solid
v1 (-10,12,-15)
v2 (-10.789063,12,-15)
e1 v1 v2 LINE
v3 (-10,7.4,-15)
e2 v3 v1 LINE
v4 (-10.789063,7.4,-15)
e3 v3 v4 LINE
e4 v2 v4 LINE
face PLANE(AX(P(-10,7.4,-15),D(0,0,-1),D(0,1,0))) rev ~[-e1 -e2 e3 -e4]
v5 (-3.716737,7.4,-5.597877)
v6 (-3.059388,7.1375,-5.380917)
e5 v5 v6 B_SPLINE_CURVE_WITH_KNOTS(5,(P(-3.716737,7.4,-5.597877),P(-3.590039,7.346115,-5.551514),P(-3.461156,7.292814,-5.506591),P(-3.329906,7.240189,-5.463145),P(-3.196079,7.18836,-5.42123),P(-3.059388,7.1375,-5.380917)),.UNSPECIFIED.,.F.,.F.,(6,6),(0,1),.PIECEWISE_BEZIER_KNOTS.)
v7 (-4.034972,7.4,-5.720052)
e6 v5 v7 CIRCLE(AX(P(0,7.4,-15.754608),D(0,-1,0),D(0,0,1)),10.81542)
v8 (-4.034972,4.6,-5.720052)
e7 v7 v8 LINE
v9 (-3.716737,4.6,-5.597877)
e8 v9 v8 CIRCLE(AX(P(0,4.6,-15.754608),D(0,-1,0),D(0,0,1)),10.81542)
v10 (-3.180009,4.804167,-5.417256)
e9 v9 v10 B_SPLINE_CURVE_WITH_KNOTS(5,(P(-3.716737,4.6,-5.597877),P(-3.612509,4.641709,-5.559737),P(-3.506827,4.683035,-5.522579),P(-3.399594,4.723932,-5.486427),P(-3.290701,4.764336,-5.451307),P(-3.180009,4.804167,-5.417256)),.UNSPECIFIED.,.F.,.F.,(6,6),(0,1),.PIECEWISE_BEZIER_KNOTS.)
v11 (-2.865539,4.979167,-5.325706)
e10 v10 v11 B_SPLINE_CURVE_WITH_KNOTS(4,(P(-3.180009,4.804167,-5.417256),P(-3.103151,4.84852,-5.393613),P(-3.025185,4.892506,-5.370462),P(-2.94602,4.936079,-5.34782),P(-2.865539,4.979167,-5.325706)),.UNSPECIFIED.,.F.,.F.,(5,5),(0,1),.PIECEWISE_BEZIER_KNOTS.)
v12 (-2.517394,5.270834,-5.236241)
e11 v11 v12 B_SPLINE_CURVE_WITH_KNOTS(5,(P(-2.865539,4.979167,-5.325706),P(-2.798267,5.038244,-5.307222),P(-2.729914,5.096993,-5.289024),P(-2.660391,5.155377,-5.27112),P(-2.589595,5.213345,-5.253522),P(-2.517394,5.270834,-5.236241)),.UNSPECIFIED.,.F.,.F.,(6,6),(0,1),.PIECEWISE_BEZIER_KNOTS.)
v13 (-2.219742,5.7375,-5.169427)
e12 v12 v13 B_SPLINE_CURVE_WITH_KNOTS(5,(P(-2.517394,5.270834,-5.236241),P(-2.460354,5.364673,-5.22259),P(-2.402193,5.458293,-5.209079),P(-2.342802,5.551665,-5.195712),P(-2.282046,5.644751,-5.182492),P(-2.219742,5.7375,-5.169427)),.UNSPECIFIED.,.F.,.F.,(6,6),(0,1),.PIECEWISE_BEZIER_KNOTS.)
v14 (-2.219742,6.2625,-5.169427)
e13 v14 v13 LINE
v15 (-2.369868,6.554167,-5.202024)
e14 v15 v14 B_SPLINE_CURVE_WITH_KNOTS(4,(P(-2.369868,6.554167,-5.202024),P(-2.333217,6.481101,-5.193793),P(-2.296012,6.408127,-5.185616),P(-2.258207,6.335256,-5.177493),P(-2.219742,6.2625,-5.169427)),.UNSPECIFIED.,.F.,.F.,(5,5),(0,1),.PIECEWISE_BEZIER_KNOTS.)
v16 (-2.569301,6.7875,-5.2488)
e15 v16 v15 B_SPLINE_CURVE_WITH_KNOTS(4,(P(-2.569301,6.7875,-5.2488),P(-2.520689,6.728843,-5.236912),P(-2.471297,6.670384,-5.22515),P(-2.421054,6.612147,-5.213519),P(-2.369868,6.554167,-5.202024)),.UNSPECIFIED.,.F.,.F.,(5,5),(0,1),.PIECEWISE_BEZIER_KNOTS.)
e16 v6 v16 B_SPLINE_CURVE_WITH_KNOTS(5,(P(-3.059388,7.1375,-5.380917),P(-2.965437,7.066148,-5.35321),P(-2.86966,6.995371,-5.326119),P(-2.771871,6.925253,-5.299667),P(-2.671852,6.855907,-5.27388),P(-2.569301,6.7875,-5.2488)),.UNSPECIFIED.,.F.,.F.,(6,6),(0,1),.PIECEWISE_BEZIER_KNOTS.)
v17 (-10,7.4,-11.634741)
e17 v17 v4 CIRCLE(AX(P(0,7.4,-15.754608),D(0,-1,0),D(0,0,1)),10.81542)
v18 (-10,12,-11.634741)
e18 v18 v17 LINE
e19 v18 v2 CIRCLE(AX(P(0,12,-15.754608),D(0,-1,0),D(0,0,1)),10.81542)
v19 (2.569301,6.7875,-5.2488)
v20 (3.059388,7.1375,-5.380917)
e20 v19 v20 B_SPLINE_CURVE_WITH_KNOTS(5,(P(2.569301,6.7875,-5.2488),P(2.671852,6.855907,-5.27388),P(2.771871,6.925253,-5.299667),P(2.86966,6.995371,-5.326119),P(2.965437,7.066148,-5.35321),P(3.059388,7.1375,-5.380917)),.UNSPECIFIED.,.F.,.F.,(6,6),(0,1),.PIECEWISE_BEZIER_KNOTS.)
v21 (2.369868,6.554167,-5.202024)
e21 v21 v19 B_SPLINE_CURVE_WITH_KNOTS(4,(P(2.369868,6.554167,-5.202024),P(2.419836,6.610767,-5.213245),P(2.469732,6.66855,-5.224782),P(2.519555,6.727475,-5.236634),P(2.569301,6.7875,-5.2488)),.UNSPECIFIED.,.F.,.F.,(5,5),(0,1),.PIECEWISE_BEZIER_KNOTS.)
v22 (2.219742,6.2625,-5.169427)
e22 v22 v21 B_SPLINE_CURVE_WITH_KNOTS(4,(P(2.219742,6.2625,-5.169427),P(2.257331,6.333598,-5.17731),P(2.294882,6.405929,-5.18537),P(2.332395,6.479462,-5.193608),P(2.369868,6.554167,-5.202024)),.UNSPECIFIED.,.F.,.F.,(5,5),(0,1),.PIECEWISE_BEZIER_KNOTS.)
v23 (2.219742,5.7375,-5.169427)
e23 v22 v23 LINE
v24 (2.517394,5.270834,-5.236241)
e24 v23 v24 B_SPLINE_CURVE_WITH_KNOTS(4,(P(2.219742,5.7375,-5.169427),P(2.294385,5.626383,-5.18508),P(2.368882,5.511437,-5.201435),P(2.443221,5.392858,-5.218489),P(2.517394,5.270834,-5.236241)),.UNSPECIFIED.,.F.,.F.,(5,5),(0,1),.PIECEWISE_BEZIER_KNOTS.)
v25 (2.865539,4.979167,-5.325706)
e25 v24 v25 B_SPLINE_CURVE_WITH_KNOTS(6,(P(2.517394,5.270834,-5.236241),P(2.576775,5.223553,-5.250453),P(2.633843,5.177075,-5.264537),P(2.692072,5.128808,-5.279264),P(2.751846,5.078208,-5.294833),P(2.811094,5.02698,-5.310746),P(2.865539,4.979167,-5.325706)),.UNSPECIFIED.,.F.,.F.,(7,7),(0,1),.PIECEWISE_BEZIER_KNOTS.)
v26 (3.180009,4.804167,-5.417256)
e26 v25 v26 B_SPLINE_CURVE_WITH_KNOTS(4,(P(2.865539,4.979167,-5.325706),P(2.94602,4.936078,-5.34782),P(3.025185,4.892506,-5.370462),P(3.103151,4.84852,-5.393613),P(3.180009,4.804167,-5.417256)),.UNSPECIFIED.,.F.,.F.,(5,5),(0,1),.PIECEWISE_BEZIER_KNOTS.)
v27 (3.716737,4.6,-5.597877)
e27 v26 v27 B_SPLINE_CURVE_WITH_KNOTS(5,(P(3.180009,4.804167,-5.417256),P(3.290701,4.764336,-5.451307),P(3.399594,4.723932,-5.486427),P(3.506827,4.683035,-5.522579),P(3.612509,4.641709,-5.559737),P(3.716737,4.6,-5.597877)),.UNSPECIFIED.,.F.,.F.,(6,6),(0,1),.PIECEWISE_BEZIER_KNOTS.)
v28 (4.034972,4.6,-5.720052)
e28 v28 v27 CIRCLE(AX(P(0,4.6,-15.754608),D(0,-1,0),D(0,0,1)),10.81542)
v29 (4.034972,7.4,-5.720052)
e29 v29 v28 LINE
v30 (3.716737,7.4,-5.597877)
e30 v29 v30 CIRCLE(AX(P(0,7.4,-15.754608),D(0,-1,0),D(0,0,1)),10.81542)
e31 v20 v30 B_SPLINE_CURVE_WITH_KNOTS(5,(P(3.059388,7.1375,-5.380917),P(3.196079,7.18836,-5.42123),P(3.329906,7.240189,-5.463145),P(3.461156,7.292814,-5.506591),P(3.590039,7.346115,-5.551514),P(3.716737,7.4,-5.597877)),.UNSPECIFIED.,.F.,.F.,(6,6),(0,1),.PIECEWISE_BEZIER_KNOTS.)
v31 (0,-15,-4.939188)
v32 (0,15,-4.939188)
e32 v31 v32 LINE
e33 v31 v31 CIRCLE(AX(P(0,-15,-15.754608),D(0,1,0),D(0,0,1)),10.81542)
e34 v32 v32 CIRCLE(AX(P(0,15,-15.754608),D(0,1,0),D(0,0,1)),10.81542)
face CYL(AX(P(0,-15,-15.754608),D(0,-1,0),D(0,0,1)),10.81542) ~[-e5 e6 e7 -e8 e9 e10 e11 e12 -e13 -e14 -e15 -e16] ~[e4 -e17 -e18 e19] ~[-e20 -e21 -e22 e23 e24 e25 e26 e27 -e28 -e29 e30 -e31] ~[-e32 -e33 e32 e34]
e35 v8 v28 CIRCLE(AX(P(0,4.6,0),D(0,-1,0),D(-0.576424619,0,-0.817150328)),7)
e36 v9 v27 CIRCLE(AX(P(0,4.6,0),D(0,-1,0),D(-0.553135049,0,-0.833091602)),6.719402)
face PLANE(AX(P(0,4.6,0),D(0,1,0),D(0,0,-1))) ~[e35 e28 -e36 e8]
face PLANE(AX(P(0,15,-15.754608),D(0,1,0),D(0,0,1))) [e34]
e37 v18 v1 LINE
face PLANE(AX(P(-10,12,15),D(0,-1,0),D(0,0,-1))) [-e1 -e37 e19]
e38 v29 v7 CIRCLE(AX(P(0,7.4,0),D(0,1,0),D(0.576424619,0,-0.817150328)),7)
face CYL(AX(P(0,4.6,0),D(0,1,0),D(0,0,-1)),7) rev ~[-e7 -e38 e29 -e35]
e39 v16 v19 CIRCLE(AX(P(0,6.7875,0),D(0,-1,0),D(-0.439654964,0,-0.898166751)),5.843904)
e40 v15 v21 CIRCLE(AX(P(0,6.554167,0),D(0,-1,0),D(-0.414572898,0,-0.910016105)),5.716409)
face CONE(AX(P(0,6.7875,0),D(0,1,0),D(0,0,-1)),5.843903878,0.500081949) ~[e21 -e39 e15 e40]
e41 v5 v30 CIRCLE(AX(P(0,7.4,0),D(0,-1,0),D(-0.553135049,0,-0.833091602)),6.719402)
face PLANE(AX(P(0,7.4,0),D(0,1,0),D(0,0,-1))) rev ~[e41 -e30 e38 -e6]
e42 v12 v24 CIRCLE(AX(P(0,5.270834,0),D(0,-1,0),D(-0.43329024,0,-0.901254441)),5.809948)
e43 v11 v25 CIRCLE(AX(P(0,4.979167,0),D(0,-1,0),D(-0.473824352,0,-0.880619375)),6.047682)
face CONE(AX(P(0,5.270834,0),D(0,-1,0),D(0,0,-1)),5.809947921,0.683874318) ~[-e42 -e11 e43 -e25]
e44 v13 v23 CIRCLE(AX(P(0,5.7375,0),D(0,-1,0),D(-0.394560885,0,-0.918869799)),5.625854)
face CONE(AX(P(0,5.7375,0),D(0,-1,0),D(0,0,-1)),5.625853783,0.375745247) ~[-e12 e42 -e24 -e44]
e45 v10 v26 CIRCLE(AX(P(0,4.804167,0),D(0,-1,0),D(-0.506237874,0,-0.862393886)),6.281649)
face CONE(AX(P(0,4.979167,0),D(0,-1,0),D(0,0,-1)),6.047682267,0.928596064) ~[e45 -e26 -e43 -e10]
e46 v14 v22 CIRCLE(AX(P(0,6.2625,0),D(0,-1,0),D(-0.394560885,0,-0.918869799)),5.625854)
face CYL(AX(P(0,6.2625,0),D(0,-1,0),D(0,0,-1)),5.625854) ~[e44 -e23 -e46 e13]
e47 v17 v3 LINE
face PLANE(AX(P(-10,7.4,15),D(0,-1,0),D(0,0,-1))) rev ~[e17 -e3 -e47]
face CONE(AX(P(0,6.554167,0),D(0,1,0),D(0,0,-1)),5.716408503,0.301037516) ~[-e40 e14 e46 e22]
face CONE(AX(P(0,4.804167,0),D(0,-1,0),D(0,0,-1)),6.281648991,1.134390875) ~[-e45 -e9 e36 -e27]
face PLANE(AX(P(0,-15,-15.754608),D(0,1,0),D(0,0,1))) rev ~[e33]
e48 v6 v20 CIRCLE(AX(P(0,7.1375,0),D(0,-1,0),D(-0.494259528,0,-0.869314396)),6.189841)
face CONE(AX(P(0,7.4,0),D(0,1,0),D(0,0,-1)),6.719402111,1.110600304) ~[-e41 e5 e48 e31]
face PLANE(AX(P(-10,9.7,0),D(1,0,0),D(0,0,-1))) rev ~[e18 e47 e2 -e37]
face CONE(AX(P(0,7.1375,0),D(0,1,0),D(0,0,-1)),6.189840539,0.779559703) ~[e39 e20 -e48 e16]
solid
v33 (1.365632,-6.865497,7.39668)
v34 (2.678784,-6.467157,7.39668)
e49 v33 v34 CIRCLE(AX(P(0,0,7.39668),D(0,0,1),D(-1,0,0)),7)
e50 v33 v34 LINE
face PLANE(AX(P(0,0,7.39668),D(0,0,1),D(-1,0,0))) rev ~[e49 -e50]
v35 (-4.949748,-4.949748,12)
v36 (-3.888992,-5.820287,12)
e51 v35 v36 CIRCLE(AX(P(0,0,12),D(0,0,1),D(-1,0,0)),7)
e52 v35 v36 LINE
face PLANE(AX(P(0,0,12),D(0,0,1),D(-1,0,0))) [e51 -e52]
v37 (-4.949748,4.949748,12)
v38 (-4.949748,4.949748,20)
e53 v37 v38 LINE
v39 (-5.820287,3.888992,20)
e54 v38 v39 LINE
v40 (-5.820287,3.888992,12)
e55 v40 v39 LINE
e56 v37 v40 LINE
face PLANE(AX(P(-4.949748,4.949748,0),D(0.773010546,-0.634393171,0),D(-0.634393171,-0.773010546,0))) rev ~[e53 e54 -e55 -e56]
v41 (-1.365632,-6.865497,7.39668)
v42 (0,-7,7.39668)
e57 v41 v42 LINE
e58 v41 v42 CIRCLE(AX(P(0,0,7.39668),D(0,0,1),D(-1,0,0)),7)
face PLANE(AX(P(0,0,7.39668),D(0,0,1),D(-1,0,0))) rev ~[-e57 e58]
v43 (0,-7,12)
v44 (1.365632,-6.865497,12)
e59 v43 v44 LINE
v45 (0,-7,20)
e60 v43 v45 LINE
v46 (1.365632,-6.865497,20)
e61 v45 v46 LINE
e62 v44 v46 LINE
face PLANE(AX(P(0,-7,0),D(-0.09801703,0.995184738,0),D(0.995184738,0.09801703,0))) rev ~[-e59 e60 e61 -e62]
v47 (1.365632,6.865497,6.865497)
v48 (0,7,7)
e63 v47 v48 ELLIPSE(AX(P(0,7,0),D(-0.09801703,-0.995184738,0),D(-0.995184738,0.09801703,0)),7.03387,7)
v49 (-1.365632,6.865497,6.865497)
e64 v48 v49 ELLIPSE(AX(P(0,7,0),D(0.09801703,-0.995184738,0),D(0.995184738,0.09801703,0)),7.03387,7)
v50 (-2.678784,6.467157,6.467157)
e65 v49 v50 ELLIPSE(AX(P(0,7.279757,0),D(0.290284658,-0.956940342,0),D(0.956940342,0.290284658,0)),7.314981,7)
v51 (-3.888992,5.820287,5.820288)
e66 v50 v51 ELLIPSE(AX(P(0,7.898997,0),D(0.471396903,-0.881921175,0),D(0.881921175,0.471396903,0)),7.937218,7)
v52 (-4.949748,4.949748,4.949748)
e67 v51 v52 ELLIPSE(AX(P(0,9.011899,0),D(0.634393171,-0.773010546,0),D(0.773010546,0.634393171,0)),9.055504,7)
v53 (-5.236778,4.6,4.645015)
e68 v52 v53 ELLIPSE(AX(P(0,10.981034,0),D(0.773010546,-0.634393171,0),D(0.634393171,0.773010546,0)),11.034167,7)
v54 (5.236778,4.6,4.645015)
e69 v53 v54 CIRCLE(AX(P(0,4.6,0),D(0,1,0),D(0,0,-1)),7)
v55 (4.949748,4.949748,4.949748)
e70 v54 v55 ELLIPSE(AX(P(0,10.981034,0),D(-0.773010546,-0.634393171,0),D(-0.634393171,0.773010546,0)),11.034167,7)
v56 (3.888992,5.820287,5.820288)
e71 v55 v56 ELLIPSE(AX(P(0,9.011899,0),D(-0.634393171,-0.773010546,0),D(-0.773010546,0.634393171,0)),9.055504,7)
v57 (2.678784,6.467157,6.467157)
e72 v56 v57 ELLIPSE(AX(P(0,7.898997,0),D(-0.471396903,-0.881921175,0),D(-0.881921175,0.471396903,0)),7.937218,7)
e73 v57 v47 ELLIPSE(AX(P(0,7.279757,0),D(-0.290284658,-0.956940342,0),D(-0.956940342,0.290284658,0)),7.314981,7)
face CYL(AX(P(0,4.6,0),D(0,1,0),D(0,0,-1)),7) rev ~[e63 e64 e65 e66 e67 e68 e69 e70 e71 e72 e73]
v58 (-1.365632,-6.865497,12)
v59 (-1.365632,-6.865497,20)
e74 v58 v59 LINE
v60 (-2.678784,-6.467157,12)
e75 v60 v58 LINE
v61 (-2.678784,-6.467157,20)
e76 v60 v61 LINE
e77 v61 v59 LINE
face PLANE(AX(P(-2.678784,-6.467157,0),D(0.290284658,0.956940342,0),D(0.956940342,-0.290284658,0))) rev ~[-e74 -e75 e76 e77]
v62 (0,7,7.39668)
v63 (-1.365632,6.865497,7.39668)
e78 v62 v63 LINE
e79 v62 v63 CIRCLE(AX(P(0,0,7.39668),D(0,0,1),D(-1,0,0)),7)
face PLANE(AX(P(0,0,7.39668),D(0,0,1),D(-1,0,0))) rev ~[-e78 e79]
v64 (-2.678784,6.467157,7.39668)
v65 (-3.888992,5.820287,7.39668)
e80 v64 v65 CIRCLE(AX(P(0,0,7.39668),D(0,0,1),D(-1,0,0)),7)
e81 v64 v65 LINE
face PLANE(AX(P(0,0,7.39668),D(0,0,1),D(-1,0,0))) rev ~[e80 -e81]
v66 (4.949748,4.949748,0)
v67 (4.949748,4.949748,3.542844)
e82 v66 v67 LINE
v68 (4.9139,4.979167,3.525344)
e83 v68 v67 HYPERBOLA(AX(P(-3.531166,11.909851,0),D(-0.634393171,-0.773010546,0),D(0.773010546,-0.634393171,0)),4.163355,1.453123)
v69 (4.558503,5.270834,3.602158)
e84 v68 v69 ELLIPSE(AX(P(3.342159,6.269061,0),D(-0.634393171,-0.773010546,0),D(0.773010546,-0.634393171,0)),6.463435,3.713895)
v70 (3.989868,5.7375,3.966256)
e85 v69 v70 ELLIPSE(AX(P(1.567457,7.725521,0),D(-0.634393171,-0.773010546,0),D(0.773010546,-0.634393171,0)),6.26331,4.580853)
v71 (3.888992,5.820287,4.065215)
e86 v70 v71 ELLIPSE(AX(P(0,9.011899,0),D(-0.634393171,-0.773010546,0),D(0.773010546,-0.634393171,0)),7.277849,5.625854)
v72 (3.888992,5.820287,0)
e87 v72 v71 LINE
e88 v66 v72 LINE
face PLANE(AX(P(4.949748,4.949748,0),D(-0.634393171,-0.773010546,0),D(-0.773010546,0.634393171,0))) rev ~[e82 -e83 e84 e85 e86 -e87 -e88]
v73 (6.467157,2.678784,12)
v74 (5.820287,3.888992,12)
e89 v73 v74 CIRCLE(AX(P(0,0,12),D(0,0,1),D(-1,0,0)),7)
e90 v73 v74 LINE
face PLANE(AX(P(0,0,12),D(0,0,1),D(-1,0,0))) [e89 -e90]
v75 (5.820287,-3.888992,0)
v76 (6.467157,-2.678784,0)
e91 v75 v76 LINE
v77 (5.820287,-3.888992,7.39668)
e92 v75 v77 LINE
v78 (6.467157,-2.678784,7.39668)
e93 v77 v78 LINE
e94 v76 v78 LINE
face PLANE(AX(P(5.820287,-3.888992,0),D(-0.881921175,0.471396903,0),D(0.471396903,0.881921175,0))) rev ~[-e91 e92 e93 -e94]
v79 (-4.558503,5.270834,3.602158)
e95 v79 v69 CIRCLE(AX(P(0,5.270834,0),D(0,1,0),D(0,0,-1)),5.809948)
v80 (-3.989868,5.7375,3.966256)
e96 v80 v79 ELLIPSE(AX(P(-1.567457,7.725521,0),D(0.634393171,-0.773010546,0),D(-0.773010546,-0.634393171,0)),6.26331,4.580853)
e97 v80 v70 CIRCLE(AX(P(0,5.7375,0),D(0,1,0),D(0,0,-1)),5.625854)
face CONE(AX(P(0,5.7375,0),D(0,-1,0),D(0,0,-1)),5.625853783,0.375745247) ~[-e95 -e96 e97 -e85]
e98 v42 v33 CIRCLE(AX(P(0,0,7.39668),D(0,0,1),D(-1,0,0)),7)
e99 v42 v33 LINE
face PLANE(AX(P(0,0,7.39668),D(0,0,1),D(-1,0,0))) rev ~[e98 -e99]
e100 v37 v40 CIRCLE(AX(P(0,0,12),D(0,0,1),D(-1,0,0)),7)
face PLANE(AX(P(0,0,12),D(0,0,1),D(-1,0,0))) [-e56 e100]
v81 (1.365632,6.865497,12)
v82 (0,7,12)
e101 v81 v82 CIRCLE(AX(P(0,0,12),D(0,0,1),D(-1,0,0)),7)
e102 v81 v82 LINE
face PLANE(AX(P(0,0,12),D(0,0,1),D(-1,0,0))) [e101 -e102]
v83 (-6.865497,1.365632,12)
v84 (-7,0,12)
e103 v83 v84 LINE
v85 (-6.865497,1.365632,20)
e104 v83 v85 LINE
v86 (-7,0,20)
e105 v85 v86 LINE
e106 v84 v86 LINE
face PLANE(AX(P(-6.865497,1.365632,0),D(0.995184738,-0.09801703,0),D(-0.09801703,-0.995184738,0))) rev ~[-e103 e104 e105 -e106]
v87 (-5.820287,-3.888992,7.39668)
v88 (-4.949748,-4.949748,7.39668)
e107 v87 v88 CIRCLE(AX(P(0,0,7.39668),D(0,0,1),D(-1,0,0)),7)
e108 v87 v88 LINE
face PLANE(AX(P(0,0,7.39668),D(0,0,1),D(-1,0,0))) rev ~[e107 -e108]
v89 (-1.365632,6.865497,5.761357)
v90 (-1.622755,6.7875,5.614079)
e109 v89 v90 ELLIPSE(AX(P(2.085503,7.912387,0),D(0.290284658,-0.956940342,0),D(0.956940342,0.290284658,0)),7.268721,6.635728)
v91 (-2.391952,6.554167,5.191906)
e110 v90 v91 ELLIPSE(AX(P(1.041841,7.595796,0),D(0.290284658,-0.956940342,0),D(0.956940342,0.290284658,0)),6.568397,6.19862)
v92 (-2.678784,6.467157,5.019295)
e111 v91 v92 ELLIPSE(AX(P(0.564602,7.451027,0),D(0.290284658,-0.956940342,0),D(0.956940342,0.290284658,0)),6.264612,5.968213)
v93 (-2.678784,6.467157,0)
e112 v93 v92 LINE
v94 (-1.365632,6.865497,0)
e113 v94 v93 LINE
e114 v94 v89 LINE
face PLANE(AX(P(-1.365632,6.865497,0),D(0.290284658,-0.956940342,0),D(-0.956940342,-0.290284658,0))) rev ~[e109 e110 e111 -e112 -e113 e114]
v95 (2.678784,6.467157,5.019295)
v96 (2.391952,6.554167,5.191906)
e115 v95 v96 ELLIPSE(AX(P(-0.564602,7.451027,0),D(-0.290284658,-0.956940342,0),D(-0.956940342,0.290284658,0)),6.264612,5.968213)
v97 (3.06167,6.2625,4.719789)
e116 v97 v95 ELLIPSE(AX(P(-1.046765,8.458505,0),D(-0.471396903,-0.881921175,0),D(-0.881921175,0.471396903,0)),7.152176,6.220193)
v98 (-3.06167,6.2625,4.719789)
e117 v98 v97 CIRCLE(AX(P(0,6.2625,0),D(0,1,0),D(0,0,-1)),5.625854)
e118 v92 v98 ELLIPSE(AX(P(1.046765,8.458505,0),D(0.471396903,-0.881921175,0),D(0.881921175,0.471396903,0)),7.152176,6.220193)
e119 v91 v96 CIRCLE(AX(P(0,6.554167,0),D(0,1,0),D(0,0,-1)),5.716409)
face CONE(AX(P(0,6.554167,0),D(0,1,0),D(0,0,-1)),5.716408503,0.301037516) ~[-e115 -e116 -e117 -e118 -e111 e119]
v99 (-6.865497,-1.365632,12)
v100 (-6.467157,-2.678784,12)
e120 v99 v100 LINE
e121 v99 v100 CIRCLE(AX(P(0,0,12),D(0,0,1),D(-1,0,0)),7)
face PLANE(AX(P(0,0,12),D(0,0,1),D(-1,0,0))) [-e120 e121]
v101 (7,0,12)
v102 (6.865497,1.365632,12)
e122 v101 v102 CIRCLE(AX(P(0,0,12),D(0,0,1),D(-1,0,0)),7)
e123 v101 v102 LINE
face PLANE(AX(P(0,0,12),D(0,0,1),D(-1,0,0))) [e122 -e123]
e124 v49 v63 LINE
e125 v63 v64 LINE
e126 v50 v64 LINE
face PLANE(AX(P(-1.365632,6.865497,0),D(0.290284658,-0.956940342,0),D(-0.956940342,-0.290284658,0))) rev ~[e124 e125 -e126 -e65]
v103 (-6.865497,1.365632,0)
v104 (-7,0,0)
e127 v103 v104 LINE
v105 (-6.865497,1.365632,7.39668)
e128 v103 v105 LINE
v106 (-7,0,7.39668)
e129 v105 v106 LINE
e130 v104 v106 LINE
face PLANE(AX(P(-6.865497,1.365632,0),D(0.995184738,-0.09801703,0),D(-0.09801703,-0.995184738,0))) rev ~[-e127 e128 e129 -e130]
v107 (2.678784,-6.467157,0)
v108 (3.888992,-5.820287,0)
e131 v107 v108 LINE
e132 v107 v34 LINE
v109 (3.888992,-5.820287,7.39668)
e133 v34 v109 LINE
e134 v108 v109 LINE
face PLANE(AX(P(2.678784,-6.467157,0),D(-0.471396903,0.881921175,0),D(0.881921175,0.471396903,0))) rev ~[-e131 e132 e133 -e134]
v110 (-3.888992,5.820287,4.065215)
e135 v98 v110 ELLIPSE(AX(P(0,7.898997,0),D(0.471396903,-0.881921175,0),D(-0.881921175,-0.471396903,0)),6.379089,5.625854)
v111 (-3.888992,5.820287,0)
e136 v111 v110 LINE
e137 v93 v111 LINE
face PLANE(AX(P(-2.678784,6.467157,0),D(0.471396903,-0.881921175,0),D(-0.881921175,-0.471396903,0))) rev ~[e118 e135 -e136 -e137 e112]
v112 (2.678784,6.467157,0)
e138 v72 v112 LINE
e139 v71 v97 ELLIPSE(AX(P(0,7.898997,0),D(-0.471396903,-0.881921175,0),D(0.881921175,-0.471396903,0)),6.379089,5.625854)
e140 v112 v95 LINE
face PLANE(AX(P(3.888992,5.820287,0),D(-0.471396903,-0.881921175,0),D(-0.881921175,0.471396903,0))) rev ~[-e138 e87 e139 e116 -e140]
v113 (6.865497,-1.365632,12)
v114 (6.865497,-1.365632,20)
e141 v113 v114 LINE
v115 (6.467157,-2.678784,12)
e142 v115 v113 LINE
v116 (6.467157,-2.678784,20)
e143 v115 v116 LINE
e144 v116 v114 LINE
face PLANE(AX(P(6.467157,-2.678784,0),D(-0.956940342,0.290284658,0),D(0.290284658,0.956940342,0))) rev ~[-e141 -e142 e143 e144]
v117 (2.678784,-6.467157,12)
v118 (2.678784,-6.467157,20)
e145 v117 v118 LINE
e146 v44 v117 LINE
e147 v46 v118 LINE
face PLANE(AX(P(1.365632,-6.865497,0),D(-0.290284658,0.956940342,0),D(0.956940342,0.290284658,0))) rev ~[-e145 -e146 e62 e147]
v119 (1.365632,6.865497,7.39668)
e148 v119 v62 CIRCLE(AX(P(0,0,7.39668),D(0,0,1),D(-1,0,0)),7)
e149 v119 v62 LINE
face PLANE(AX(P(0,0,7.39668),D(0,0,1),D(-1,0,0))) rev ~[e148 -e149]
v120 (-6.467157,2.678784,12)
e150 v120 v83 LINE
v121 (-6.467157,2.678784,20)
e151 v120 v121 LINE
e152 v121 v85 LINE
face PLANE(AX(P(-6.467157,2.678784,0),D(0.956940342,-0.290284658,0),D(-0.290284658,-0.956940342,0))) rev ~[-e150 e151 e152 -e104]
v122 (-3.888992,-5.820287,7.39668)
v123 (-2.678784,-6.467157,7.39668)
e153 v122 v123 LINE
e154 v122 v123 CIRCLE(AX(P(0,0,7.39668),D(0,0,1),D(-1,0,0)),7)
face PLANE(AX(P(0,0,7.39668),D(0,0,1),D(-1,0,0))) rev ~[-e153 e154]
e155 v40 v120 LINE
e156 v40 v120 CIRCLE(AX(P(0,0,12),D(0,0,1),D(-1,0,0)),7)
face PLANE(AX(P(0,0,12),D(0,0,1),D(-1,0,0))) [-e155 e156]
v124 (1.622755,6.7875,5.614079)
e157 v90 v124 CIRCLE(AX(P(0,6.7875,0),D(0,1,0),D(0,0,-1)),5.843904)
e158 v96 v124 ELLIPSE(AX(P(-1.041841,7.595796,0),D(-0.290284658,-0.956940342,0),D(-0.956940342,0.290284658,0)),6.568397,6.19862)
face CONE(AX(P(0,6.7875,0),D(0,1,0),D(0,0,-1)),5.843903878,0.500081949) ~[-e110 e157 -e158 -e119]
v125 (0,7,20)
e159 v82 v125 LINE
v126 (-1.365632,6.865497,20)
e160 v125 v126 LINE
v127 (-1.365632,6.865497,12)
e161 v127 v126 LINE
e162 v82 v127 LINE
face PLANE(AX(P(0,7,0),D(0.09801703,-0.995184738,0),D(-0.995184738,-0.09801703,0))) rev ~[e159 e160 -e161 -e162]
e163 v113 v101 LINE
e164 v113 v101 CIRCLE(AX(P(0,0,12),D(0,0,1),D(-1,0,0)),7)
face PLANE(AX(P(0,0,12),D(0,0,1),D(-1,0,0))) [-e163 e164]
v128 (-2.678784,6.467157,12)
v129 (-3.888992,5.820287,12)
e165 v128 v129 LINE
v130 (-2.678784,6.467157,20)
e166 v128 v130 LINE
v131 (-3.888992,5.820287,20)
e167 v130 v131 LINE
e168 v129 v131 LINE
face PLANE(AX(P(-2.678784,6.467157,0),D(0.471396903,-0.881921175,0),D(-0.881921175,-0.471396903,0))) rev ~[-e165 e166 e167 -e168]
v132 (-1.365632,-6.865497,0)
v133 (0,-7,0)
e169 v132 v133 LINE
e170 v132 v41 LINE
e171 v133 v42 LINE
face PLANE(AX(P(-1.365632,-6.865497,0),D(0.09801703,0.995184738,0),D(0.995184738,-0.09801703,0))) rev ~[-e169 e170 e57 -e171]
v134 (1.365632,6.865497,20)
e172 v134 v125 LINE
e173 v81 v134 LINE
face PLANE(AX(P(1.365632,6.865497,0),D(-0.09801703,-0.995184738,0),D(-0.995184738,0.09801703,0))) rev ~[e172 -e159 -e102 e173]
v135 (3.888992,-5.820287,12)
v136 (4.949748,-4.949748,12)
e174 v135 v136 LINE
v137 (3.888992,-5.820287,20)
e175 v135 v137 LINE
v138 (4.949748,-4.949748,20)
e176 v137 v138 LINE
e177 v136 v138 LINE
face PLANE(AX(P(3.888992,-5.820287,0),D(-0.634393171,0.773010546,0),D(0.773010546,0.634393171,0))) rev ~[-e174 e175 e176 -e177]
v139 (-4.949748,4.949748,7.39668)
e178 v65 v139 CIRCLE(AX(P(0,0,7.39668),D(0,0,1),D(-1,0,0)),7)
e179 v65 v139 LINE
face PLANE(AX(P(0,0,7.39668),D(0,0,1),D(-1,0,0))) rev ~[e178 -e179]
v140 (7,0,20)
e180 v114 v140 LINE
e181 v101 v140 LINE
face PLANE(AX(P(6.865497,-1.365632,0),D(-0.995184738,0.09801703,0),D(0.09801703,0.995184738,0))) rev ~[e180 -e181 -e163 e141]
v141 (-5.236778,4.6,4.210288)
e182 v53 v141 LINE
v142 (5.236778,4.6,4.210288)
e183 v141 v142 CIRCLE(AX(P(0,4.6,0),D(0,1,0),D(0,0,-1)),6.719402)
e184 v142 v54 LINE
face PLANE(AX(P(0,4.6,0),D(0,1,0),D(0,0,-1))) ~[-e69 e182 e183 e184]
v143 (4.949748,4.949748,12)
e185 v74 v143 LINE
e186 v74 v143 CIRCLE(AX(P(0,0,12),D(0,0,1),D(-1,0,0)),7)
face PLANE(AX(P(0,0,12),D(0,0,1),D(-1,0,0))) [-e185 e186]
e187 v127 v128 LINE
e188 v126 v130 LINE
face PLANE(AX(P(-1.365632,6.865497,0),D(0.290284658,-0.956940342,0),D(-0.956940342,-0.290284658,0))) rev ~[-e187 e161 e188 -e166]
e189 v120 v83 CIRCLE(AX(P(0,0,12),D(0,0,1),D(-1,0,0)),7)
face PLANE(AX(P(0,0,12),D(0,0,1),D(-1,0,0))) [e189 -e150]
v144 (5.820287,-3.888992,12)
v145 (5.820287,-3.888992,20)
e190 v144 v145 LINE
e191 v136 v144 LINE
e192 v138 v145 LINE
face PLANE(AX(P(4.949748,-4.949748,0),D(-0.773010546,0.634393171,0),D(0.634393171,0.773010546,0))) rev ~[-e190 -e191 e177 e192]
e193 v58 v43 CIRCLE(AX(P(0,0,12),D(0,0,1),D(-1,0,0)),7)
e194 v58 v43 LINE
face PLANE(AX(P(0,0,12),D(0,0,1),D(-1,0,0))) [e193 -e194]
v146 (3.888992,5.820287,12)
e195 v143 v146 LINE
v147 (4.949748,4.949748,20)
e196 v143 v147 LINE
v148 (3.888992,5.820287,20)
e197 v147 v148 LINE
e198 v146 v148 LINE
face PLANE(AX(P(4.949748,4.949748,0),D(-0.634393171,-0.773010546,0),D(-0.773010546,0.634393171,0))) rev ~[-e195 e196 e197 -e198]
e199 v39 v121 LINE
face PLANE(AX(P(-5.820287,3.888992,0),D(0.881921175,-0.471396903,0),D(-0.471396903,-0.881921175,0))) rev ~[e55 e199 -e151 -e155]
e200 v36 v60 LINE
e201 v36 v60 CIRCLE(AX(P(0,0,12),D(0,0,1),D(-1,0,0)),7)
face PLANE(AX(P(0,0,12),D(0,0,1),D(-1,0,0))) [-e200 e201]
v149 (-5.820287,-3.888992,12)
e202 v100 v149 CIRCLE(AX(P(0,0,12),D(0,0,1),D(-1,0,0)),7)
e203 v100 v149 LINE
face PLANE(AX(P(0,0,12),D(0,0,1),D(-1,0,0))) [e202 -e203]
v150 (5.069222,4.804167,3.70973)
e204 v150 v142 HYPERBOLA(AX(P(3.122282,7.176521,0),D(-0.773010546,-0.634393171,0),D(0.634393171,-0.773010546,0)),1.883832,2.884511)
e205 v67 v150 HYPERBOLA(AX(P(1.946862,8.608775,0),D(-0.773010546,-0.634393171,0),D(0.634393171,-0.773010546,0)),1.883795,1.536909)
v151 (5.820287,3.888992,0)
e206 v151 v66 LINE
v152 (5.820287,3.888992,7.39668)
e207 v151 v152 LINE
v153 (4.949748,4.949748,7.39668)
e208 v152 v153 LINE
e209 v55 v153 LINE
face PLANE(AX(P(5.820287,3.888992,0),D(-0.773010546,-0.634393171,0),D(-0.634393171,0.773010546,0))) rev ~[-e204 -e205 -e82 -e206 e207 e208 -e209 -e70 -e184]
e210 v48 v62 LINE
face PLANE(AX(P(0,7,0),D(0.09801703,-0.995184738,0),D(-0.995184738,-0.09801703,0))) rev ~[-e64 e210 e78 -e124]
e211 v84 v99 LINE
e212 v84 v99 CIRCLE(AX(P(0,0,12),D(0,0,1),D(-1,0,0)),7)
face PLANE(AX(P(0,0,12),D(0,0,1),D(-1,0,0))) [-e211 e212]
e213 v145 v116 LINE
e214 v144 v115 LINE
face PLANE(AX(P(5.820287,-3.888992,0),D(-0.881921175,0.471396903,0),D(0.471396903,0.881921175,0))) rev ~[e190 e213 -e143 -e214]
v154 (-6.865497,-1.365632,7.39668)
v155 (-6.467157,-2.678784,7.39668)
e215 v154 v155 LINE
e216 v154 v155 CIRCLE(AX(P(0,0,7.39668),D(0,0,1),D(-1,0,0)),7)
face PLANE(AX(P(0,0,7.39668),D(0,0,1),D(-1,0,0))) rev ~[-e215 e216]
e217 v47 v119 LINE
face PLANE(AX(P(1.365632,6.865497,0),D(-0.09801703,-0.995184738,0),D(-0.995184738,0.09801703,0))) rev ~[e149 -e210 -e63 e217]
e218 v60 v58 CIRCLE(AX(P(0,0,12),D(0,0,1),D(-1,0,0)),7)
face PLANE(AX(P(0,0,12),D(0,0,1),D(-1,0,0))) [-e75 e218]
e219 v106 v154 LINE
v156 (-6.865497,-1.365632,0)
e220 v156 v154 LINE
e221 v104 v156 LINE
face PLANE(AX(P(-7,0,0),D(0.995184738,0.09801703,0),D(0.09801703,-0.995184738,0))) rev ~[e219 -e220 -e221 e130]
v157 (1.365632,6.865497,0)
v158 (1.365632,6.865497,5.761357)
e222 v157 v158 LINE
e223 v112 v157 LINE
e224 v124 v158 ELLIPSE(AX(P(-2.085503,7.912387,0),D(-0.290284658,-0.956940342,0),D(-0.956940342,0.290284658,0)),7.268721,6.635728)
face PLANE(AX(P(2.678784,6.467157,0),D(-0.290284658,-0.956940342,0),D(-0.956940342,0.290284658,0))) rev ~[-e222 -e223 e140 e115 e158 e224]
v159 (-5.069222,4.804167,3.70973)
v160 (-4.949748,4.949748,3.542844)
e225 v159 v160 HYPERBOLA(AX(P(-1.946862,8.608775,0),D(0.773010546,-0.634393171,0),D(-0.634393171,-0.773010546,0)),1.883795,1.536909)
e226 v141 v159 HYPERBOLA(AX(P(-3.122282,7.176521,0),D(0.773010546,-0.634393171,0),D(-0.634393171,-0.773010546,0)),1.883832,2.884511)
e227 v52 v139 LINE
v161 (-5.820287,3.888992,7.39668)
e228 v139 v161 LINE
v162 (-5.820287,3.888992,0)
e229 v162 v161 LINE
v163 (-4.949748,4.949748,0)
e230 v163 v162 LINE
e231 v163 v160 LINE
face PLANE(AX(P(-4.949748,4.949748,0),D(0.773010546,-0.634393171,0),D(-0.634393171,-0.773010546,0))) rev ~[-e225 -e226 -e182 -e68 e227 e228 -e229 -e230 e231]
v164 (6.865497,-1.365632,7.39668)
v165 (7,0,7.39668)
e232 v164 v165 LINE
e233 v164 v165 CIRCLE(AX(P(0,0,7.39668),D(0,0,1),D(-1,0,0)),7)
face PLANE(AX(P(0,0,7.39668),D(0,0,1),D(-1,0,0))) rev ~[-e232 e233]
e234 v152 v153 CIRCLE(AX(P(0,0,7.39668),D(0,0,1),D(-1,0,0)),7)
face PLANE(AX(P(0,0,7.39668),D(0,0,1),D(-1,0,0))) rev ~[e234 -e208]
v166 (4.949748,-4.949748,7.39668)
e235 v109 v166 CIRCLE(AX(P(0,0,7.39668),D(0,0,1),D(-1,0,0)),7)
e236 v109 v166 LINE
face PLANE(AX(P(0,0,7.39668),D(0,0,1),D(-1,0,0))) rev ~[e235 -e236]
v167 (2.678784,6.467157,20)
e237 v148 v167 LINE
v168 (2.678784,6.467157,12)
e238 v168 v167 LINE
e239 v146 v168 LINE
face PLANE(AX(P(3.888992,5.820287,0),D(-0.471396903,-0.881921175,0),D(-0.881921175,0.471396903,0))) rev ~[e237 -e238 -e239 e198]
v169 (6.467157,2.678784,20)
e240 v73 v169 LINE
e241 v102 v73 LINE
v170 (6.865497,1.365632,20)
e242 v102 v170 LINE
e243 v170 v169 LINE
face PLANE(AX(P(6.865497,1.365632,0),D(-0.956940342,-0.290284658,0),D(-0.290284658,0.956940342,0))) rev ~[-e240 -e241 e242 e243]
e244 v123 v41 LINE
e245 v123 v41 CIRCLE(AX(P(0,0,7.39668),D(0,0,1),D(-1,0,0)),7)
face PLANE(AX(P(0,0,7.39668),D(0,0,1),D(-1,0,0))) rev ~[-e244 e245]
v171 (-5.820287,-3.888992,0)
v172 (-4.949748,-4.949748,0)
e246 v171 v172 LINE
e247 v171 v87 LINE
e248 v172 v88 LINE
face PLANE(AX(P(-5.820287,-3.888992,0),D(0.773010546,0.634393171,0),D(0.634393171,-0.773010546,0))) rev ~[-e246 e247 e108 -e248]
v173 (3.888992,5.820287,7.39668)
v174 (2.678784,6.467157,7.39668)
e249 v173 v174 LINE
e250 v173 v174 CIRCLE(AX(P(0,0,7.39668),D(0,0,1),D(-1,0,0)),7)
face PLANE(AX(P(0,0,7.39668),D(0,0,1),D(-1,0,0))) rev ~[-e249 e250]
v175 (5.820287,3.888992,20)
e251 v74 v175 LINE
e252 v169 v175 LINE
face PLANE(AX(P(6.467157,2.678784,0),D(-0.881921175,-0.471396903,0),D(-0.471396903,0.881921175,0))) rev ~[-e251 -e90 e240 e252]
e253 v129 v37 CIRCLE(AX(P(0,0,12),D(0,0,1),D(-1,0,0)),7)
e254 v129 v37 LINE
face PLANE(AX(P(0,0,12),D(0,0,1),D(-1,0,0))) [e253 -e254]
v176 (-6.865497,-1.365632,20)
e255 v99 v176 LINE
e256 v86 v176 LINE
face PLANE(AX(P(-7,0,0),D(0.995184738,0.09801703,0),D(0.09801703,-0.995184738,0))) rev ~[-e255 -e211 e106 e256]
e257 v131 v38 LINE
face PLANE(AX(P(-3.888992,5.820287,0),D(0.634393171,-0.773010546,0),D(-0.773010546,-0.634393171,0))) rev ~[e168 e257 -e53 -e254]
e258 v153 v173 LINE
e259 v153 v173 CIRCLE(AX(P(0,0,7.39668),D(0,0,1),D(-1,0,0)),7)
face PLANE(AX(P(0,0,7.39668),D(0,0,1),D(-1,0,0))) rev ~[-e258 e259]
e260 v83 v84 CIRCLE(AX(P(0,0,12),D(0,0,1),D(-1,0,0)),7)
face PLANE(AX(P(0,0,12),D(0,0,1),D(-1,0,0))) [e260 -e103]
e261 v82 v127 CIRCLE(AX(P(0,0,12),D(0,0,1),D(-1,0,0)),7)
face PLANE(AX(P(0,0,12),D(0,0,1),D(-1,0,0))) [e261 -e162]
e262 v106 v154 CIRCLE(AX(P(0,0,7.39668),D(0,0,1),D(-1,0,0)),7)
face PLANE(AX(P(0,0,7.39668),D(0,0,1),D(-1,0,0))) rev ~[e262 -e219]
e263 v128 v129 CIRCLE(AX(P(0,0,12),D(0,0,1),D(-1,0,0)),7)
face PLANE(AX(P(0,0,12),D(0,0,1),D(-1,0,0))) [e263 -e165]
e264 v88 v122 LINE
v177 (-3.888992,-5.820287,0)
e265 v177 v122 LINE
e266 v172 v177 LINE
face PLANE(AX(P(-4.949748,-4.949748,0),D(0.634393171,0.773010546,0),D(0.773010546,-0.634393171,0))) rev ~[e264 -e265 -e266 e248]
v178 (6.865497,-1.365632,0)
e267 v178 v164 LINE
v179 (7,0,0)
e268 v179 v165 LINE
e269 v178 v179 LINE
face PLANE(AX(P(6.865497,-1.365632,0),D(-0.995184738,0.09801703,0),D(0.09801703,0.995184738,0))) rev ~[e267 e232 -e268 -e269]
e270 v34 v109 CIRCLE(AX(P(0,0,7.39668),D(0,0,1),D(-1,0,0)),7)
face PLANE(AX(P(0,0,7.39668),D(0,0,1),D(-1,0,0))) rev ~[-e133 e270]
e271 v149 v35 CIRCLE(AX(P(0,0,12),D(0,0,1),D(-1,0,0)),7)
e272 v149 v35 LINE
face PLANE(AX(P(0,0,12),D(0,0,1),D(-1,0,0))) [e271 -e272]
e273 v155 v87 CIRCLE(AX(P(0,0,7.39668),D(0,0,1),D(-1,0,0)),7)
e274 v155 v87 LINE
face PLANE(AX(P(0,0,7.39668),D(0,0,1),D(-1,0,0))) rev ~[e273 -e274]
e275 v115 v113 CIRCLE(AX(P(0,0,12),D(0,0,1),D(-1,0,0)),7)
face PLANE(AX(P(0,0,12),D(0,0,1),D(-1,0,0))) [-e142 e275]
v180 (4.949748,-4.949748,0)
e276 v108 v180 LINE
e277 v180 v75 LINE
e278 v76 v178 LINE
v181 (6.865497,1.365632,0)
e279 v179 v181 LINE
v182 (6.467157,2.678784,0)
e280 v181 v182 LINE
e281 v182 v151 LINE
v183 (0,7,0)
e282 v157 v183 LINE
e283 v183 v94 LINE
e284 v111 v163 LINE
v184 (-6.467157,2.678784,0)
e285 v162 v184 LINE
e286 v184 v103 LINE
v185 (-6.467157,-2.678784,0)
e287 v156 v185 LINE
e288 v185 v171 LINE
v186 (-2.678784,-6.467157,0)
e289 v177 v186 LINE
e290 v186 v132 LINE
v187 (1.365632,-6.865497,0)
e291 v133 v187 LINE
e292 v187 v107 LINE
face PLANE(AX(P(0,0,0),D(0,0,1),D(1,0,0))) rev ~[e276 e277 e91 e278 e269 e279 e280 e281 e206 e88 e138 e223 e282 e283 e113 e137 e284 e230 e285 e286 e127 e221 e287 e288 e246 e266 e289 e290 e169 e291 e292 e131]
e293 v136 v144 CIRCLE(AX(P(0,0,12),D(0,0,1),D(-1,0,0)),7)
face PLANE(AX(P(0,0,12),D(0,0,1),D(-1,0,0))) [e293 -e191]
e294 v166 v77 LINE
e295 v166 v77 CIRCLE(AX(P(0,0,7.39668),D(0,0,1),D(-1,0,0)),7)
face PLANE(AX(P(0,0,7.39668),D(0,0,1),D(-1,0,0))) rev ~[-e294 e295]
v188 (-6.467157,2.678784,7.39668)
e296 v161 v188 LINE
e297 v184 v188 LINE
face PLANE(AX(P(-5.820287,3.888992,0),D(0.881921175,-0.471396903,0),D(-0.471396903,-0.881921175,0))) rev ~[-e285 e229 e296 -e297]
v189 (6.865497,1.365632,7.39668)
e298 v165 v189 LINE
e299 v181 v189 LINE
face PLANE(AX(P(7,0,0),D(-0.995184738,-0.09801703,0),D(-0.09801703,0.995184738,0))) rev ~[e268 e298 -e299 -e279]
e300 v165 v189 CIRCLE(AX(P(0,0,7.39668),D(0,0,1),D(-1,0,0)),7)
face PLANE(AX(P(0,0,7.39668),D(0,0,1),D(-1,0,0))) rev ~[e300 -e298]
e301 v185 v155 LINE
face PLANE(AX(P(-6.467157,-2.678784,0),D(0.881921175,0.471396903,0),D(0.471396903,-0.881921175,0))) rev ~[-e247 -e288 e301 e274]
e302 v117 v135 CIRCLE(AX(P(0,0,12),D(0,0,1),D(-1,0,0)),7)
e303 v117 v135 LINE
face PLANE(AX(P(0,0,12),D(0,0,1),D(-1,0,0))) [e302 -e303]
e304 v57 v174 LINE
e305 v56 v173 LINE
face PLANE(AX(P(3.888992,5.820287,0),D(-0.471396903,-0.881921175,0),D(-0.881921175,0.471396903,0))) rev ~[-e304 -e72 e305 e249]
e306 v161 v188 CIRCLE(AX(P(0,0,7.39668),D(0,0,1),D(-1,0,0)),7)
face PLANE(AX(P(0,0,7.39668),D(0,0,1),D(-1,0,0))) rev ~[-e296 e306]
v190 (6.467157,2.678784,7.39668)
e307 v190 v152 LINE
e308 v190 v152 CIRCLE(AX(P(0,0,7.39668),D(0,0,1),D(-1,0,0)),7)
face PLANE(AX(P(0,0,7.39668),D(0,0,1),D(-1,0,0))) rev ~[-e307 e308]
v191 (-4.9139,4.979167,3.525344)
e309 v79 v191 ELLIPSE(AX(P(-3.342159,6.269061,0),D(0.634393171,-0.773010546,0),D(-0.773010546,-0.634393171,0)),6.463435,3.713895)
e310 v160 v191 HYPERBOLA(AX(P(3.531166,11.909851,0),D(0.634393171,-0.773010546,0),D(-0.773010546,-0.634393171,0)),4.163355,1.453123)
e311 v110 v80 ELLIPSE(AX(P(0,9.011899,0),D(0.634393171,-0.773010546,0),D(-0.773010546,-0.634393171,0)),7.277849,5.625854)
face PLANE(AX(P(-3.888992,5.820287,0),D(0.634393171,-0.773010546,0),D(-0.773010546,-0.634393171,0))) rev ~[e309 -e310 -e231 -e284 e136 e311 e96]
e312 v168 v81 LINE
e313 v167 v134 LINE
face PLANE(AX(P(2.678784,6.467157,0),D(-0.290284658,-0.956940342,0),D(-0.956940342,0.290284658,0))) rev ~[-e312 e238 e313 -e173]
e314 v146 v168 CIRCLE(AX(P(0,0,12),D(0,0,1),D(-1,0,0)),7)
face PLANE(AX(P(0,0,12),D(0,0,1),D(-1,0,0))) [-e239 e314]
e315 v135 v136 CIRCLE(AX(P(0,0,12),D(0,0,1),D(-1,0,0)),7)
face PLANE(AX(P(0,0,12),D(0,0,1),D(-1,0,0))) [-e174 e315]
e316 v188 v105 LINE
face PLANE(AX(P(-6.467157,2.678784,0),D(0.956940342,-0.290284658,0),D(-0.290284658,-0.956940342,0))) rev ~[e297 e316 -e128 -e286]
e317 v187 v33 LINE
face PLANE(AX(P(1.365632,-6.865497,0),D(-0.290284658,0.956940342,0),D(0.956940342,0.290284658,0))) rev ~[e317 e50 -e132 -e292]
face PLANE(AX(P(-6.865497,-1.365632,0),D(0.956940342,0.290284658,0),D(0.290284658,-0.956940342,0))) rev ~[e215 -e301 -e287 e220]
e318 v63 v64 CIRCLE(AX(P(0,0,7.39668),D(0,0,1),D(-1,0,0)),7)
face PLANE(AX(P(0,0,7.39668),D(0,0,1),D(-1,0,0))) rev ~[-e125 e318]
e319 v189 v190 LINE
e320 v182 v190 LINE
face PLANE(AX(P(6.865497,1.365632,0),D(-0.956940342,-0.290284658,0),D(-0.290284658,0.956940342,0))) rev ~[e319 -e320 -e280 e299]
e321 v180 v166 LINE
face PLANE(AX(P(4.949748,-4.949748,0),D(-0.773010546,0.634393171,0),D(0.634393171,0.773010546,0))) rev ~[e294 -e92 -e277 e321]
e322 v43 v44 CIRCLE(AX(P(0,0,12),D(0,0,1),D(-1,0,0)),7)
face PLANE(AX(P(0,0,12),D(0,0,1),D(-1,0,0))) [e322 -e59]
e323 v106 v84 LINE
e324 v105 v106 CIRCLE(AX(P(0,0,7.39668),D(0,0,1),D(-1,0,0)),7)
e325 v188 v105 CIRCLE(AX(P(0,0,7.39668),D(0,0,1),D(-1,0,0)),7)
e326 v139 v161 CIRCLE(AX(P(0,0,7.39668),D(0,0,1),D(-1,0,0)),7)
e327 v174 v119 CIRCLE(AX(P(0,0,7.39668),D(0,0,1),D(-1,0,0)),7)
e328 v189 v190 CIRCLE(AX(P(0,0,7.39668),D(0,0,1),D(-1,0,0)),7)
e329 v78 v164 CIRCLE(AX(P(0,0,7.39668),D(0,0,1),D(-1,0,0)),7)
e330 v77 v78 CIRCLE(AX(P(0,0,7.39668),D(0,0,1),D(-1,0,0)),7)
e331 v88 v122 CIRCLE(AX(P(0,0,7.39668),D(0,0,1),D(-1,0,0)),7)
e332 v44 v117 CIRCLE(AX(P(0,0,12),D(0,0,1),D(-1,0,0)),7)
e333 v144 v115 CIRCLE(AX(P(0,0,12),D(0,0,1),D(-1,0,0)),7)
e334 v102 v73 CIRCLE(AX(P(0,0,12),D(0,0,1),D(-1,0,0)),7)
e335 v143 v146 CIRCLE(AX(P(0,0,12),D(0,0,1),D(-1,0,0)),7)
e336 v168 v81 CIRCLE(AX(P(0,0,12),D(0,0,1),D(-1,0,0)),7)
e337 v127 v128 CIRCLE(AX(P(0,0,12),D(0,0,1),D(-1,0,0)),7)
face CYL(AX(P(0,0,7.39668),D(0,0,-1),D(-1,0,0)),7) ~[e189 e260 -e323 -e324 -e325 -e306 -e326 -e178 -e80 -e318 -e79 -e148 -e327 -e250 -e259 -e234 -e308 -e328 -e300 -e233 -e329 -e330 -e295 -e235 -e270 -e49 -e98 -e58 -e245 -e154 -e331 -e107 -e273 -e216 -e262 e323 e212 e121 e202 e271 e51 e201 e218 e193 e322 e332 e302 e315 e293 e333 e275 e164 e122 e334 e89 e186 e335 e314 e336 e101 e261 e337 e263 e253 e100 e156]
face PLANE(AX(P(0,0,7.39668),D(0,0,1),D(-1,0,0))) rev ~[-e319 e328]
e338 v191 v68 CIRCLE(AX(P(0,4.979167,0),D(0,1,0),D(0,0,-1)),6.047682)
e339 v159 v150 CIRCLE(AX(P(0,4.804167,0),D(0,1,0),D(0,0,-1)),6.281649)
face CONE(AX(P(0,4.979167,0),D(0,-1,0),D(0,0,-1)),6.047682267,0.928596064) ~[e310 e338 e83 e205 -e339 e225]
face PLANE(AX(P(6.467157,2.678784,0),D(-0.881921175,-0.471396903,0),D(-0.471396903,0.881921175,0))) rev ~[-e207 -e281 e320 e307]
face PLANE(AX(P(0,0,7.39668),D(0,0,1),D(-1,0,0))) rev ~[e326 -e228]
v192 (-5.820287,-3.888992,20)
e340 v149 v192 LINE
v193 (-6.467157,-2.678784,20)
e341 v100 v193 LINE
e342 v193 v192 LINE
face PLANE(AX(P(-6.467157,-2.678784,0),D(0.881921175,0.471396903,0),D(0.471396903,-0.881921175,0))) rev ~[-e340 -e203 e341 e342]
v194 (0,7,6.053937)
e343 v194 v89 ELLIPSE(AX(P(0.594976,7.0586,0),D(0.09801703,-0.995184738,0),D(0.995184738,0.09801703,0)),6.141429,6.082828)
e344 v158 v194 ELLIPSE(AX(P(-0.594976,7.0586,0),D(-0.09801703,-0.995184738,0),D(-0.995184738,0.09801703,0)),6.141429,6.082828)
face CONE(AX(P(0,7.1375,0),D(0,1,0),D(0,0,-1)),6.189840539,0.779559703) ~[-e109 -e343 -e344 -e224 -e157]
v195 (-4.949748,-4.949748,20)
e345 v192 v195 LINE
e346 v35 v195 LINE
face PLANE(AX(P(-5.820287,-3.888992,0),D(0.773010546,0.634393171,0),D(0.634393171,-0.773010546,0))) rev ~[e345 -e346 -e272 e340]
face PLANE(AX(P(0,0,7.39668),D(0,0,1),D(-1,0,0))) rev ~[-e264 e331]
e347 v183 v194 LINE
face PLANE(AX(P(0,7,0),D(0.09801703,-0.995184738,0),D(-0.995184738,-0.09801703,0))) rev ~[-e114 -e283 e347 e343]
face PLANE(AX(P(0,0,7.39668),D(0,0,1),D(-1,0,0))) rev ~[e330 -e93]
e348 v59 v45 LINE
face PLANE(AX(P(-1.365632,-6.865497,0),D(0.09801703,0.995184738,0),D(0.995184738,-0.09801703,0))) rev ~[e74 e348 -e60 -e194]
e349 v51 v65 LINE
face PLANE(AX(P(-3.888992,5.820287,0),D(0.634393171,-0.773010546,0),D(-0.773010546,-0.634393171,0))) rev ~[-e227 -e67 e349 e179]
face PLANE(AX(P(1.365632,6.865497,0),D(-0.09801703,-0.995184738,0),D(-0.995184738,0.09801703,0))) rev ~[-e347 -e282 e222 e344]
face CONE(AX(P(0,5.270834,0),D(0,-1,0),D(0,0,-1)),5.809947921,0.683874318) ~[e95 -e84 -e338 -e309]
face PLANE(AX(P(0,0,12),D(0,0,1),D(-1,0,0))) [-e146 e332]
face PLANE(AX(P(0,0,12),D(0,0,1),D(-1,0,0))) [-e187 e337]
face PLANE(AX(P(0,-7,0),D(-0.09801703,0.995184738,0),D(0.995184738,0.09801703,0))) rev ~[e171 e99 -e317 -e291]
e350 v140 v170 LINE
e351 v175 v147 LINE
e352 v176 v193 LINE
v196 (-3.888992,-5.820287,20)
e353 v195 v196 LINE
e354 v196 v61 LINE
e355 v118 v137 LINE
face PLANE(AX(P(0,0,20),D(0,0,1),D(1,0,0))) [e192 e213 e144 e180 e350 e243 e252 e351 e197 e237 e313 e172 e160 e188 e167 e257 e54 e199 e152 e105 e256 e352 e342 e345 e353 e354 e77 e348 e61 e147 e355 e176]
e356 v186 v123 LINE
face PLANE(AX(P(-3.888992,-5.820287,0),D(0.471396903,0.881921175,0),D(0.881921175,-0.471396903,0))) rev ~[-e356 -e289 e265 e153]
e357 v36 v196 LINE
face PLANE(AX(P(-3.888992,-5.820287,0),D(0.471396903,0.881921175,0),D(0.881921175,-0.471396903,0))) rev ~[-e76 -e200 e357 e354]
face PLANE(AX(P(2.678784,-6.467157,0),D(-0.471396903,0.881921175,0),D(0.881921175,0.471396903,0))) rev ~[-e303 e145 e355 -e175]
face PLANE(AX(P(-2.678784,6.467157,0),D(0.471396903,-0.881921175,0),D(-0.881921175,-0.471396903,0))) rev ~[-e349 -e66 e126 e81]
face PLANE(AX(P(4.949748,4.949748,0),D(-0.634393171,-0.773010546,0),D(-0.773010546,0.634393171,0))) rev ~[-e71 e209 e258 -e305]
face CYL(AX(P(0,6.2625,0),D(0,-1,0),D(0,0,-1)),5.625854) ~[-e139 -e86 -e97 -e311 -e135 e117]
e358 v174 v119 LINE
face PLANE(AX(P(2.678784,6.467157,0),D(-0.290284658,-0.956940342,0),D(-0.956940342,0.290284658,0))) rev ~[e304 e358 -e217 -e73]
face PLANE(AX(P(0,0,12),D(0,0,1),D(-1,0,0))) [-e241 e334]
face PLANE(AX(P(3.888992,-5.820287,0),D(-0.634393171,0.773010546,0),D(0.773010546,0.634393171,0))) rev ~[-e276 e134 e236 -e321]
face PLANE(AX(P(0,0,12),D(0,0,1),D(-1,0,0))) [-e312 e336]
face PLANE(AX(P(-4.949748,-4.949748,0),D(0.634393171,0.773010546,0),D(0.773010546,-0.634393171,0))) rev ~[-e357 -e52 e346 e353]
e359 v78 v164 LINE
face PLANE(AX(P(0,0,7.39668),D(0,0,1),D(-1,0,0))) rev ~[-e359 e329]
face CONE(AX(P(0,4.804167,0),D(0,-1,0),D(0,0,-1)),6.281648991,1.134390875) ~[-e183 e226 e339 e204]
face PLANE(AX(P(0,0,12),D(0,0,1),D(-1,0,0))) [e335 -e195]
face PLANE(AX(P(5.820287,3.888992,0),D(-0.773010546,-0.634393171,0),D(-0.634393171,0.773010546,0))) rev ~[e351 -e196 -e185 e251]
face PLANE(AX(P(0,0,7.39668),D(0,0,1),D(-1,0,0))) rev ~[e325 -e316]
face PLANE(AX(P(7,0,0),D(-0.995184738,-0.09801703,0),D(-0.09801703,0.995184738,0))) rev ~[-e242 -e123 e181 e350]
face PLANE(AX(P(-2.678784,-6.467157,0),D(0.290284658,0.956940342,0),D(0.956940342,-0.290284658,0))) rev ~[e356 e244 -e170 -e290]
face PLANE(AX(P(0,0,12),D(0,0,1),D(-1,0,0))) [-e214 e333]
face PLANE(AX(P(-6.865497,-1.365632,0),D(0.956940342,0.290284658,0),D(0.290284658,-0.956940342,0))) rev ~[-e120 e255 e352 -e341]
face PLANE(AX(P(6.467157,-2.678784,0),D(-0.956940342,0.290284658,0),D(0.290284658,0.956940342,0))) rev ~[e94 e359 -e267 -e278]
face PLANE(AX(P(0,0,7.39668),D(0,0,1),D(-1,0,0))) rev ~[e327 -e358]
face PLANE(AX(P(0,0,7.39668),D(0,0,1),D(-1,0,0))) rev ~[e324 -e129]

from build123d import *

# Parameters (mm, degrees)
CADVIEW_CORE_EXTRUDE_DEPTH        = 20
CADVIEW_START                     = -15
CADVIEW_RESIDUAL_BOSS_PROFILE_1_R = 10.815419751
CADVIEW_RESIDUAL_BOSS_1_DEPTH     = 30
CADVIEW_START_2                   = -10
CADVIEW_RESIDUAL_CUT_PROFILE_2_W  = 30
CADVIEW_RESIDUAL_CUT_PROFILE_2_H  = 4.600000381
CADVIEW_RESIDUAL_CUT_2_DEPTH      = 20
CADVIEW_START_3                   = 7.396679878
CADVIEW_RESIDUAL_BOSS_PROFILE_3_R = 7.000000085
CADVIEW_RESIDUAL_BOSS_3_DEPTH     = 4.603320122


with BuildPart() as part:
    # CADView Core Profile → CADView Core Extrude (new body)
    with BuildSketch(Plane.XY):
        Polygon((-7, 0), (-6.865497112, -1.365632296), (-6.467156887, -2.678784132), (-5.820287228, -3.888991594), (-4.949747562, -4.949747562), (-3.888991594, -5.820287228), (-2.678784132, -6.467156887), (-1.365632296, -6.865497112), (0, -7), (1.365632296, -6.865497112), (2.678784132, -6.467156887), (3.888991594, -5.820287228), (4.949747562, -4.949747562), (5.820287228, -3.888991594), (6.467156887, -2.678784132), (6.865497112, -1.365632296), (7, 0), (6.865497112, 1.365632296), (6.467156887, 2.678784132), (5.820287228, 3.888991594), (4.949747562, 4.949747562), (3.888991594, 5.820287228), (2.678784132, 6.467156887), (1.365632296, 6.865497112), (0, 7), (-1.365632296, 6.865497112), (-2.678784132, 6.467156887), (-3.888991594, 5.820287228), (-4.949747562, 4.949747562), (-5.820287228, 3.888991594), (-6.467156887, 2.678784132), (-6.865497112, 1.365632296), align=None)
    extrude(amount=CADVIEW_CORE_EXTRUDE_DEPTH)

    # CADView Residual Boss Profile 3 → CADView Residual Boss 3 (add)
    with BuildSketch(Plane.XY.offset(CADVIEW_START_3)):
        with Locations(Location((0, 0, 0), (0, 0, 180))):
            Circle(CADVIEW_RESIDUAL_BOSS_PROFILE_3_R)
    extrude(amount=CADVIEW_RESIDUAL_BOSS_3_DEPTH)


with BuildPart() as body_2:
    # CADView Residual Boss Profile 1 → CADView Residual Boss 1 (new body)
    with BuildSketch(Plane(origin=(0, 0, 0), x_dir=(1, 0, 0), z_dir=(0, 1, 0)).offset(CADVIEW_START)):
        with Locations(Location((0, 15.754607839, 0), (0, 0, 270))):
            Circle(CADVIEW_RESIDUAL_BOSS_PROFILE_1_R)
    extrude(amount=CADVIEW_RESIDUAL_BOSS_1_DEPTH)

    # CADView Residual Cut Profile 2 → CADView Residual Cut 2 (cut)
    with BuildSketch(Plane(origin=(0, 0, 0), x_dir=(0, 0, -1), z_dir=(1, 0, 0)).offset(CADVIEW_START_2)):
        with Locations((0, 9.699999809)):
            Rectangle(CADVIEW_RESIDUAL_CUT_PROFILE_2_W, CADVIEW_RESIDUAL_CUT_PROFILE_2_H)
    extrude(amount=-CADVIEW_RESIDUAL_CUT_2_DEPTH, mode=Mode.SUBTRACT)


with BuildPart() as cadview_residual_revolve_cut_4_tool:
    # CADView Residual Revolve Cut Profile 4 → CADView Residual Revolve Cut 4 (revolve)
    with BuildSketch(Plane(origin=(0, 0, 0), x_dir=(0, 0, -1), z_dir=(1, 0, 0))):
        Polygon((7.000000188, 4.600000381), (7.000000188, 7.399999619), (6.719402111, 7.399999619), (6.189840539, 7.13749969), (5.843903878, 6.787499785), (5.716408503, 6.554166516), (5.625853783, 6.262499928), (5.625853783, 5.737500072), (5.809947921, 5.270833532), (6.047682267, 4.979166945), (6.281648991, 4.804166993), (6.719402111, 4.600000381), align=None)
    revolve(axis=Axis((0, 4.46000042, 0), (0, 1, 0)))


with BuildPart() as part_1:
    add(part.part)

    # CADView Residual Revolve Cut 4: cut by cadview_residual_revolve_cut_4_tool
    add(cadview_residual_revolve_cut_4_tool.part, mode=Mode.SUBTRACT)


with BuildPart() as body_2_1:
    add(body_2.part)

    # CADView Residual Revolve Cut 4: cut by cadview_residual_revolve_cut_4_tool
    add(cadview_residual_revolve_cut_4_tool.part, mode=Mode.SUBTRACT)


solid = Compound([part_1.part, body_2_1.part])
